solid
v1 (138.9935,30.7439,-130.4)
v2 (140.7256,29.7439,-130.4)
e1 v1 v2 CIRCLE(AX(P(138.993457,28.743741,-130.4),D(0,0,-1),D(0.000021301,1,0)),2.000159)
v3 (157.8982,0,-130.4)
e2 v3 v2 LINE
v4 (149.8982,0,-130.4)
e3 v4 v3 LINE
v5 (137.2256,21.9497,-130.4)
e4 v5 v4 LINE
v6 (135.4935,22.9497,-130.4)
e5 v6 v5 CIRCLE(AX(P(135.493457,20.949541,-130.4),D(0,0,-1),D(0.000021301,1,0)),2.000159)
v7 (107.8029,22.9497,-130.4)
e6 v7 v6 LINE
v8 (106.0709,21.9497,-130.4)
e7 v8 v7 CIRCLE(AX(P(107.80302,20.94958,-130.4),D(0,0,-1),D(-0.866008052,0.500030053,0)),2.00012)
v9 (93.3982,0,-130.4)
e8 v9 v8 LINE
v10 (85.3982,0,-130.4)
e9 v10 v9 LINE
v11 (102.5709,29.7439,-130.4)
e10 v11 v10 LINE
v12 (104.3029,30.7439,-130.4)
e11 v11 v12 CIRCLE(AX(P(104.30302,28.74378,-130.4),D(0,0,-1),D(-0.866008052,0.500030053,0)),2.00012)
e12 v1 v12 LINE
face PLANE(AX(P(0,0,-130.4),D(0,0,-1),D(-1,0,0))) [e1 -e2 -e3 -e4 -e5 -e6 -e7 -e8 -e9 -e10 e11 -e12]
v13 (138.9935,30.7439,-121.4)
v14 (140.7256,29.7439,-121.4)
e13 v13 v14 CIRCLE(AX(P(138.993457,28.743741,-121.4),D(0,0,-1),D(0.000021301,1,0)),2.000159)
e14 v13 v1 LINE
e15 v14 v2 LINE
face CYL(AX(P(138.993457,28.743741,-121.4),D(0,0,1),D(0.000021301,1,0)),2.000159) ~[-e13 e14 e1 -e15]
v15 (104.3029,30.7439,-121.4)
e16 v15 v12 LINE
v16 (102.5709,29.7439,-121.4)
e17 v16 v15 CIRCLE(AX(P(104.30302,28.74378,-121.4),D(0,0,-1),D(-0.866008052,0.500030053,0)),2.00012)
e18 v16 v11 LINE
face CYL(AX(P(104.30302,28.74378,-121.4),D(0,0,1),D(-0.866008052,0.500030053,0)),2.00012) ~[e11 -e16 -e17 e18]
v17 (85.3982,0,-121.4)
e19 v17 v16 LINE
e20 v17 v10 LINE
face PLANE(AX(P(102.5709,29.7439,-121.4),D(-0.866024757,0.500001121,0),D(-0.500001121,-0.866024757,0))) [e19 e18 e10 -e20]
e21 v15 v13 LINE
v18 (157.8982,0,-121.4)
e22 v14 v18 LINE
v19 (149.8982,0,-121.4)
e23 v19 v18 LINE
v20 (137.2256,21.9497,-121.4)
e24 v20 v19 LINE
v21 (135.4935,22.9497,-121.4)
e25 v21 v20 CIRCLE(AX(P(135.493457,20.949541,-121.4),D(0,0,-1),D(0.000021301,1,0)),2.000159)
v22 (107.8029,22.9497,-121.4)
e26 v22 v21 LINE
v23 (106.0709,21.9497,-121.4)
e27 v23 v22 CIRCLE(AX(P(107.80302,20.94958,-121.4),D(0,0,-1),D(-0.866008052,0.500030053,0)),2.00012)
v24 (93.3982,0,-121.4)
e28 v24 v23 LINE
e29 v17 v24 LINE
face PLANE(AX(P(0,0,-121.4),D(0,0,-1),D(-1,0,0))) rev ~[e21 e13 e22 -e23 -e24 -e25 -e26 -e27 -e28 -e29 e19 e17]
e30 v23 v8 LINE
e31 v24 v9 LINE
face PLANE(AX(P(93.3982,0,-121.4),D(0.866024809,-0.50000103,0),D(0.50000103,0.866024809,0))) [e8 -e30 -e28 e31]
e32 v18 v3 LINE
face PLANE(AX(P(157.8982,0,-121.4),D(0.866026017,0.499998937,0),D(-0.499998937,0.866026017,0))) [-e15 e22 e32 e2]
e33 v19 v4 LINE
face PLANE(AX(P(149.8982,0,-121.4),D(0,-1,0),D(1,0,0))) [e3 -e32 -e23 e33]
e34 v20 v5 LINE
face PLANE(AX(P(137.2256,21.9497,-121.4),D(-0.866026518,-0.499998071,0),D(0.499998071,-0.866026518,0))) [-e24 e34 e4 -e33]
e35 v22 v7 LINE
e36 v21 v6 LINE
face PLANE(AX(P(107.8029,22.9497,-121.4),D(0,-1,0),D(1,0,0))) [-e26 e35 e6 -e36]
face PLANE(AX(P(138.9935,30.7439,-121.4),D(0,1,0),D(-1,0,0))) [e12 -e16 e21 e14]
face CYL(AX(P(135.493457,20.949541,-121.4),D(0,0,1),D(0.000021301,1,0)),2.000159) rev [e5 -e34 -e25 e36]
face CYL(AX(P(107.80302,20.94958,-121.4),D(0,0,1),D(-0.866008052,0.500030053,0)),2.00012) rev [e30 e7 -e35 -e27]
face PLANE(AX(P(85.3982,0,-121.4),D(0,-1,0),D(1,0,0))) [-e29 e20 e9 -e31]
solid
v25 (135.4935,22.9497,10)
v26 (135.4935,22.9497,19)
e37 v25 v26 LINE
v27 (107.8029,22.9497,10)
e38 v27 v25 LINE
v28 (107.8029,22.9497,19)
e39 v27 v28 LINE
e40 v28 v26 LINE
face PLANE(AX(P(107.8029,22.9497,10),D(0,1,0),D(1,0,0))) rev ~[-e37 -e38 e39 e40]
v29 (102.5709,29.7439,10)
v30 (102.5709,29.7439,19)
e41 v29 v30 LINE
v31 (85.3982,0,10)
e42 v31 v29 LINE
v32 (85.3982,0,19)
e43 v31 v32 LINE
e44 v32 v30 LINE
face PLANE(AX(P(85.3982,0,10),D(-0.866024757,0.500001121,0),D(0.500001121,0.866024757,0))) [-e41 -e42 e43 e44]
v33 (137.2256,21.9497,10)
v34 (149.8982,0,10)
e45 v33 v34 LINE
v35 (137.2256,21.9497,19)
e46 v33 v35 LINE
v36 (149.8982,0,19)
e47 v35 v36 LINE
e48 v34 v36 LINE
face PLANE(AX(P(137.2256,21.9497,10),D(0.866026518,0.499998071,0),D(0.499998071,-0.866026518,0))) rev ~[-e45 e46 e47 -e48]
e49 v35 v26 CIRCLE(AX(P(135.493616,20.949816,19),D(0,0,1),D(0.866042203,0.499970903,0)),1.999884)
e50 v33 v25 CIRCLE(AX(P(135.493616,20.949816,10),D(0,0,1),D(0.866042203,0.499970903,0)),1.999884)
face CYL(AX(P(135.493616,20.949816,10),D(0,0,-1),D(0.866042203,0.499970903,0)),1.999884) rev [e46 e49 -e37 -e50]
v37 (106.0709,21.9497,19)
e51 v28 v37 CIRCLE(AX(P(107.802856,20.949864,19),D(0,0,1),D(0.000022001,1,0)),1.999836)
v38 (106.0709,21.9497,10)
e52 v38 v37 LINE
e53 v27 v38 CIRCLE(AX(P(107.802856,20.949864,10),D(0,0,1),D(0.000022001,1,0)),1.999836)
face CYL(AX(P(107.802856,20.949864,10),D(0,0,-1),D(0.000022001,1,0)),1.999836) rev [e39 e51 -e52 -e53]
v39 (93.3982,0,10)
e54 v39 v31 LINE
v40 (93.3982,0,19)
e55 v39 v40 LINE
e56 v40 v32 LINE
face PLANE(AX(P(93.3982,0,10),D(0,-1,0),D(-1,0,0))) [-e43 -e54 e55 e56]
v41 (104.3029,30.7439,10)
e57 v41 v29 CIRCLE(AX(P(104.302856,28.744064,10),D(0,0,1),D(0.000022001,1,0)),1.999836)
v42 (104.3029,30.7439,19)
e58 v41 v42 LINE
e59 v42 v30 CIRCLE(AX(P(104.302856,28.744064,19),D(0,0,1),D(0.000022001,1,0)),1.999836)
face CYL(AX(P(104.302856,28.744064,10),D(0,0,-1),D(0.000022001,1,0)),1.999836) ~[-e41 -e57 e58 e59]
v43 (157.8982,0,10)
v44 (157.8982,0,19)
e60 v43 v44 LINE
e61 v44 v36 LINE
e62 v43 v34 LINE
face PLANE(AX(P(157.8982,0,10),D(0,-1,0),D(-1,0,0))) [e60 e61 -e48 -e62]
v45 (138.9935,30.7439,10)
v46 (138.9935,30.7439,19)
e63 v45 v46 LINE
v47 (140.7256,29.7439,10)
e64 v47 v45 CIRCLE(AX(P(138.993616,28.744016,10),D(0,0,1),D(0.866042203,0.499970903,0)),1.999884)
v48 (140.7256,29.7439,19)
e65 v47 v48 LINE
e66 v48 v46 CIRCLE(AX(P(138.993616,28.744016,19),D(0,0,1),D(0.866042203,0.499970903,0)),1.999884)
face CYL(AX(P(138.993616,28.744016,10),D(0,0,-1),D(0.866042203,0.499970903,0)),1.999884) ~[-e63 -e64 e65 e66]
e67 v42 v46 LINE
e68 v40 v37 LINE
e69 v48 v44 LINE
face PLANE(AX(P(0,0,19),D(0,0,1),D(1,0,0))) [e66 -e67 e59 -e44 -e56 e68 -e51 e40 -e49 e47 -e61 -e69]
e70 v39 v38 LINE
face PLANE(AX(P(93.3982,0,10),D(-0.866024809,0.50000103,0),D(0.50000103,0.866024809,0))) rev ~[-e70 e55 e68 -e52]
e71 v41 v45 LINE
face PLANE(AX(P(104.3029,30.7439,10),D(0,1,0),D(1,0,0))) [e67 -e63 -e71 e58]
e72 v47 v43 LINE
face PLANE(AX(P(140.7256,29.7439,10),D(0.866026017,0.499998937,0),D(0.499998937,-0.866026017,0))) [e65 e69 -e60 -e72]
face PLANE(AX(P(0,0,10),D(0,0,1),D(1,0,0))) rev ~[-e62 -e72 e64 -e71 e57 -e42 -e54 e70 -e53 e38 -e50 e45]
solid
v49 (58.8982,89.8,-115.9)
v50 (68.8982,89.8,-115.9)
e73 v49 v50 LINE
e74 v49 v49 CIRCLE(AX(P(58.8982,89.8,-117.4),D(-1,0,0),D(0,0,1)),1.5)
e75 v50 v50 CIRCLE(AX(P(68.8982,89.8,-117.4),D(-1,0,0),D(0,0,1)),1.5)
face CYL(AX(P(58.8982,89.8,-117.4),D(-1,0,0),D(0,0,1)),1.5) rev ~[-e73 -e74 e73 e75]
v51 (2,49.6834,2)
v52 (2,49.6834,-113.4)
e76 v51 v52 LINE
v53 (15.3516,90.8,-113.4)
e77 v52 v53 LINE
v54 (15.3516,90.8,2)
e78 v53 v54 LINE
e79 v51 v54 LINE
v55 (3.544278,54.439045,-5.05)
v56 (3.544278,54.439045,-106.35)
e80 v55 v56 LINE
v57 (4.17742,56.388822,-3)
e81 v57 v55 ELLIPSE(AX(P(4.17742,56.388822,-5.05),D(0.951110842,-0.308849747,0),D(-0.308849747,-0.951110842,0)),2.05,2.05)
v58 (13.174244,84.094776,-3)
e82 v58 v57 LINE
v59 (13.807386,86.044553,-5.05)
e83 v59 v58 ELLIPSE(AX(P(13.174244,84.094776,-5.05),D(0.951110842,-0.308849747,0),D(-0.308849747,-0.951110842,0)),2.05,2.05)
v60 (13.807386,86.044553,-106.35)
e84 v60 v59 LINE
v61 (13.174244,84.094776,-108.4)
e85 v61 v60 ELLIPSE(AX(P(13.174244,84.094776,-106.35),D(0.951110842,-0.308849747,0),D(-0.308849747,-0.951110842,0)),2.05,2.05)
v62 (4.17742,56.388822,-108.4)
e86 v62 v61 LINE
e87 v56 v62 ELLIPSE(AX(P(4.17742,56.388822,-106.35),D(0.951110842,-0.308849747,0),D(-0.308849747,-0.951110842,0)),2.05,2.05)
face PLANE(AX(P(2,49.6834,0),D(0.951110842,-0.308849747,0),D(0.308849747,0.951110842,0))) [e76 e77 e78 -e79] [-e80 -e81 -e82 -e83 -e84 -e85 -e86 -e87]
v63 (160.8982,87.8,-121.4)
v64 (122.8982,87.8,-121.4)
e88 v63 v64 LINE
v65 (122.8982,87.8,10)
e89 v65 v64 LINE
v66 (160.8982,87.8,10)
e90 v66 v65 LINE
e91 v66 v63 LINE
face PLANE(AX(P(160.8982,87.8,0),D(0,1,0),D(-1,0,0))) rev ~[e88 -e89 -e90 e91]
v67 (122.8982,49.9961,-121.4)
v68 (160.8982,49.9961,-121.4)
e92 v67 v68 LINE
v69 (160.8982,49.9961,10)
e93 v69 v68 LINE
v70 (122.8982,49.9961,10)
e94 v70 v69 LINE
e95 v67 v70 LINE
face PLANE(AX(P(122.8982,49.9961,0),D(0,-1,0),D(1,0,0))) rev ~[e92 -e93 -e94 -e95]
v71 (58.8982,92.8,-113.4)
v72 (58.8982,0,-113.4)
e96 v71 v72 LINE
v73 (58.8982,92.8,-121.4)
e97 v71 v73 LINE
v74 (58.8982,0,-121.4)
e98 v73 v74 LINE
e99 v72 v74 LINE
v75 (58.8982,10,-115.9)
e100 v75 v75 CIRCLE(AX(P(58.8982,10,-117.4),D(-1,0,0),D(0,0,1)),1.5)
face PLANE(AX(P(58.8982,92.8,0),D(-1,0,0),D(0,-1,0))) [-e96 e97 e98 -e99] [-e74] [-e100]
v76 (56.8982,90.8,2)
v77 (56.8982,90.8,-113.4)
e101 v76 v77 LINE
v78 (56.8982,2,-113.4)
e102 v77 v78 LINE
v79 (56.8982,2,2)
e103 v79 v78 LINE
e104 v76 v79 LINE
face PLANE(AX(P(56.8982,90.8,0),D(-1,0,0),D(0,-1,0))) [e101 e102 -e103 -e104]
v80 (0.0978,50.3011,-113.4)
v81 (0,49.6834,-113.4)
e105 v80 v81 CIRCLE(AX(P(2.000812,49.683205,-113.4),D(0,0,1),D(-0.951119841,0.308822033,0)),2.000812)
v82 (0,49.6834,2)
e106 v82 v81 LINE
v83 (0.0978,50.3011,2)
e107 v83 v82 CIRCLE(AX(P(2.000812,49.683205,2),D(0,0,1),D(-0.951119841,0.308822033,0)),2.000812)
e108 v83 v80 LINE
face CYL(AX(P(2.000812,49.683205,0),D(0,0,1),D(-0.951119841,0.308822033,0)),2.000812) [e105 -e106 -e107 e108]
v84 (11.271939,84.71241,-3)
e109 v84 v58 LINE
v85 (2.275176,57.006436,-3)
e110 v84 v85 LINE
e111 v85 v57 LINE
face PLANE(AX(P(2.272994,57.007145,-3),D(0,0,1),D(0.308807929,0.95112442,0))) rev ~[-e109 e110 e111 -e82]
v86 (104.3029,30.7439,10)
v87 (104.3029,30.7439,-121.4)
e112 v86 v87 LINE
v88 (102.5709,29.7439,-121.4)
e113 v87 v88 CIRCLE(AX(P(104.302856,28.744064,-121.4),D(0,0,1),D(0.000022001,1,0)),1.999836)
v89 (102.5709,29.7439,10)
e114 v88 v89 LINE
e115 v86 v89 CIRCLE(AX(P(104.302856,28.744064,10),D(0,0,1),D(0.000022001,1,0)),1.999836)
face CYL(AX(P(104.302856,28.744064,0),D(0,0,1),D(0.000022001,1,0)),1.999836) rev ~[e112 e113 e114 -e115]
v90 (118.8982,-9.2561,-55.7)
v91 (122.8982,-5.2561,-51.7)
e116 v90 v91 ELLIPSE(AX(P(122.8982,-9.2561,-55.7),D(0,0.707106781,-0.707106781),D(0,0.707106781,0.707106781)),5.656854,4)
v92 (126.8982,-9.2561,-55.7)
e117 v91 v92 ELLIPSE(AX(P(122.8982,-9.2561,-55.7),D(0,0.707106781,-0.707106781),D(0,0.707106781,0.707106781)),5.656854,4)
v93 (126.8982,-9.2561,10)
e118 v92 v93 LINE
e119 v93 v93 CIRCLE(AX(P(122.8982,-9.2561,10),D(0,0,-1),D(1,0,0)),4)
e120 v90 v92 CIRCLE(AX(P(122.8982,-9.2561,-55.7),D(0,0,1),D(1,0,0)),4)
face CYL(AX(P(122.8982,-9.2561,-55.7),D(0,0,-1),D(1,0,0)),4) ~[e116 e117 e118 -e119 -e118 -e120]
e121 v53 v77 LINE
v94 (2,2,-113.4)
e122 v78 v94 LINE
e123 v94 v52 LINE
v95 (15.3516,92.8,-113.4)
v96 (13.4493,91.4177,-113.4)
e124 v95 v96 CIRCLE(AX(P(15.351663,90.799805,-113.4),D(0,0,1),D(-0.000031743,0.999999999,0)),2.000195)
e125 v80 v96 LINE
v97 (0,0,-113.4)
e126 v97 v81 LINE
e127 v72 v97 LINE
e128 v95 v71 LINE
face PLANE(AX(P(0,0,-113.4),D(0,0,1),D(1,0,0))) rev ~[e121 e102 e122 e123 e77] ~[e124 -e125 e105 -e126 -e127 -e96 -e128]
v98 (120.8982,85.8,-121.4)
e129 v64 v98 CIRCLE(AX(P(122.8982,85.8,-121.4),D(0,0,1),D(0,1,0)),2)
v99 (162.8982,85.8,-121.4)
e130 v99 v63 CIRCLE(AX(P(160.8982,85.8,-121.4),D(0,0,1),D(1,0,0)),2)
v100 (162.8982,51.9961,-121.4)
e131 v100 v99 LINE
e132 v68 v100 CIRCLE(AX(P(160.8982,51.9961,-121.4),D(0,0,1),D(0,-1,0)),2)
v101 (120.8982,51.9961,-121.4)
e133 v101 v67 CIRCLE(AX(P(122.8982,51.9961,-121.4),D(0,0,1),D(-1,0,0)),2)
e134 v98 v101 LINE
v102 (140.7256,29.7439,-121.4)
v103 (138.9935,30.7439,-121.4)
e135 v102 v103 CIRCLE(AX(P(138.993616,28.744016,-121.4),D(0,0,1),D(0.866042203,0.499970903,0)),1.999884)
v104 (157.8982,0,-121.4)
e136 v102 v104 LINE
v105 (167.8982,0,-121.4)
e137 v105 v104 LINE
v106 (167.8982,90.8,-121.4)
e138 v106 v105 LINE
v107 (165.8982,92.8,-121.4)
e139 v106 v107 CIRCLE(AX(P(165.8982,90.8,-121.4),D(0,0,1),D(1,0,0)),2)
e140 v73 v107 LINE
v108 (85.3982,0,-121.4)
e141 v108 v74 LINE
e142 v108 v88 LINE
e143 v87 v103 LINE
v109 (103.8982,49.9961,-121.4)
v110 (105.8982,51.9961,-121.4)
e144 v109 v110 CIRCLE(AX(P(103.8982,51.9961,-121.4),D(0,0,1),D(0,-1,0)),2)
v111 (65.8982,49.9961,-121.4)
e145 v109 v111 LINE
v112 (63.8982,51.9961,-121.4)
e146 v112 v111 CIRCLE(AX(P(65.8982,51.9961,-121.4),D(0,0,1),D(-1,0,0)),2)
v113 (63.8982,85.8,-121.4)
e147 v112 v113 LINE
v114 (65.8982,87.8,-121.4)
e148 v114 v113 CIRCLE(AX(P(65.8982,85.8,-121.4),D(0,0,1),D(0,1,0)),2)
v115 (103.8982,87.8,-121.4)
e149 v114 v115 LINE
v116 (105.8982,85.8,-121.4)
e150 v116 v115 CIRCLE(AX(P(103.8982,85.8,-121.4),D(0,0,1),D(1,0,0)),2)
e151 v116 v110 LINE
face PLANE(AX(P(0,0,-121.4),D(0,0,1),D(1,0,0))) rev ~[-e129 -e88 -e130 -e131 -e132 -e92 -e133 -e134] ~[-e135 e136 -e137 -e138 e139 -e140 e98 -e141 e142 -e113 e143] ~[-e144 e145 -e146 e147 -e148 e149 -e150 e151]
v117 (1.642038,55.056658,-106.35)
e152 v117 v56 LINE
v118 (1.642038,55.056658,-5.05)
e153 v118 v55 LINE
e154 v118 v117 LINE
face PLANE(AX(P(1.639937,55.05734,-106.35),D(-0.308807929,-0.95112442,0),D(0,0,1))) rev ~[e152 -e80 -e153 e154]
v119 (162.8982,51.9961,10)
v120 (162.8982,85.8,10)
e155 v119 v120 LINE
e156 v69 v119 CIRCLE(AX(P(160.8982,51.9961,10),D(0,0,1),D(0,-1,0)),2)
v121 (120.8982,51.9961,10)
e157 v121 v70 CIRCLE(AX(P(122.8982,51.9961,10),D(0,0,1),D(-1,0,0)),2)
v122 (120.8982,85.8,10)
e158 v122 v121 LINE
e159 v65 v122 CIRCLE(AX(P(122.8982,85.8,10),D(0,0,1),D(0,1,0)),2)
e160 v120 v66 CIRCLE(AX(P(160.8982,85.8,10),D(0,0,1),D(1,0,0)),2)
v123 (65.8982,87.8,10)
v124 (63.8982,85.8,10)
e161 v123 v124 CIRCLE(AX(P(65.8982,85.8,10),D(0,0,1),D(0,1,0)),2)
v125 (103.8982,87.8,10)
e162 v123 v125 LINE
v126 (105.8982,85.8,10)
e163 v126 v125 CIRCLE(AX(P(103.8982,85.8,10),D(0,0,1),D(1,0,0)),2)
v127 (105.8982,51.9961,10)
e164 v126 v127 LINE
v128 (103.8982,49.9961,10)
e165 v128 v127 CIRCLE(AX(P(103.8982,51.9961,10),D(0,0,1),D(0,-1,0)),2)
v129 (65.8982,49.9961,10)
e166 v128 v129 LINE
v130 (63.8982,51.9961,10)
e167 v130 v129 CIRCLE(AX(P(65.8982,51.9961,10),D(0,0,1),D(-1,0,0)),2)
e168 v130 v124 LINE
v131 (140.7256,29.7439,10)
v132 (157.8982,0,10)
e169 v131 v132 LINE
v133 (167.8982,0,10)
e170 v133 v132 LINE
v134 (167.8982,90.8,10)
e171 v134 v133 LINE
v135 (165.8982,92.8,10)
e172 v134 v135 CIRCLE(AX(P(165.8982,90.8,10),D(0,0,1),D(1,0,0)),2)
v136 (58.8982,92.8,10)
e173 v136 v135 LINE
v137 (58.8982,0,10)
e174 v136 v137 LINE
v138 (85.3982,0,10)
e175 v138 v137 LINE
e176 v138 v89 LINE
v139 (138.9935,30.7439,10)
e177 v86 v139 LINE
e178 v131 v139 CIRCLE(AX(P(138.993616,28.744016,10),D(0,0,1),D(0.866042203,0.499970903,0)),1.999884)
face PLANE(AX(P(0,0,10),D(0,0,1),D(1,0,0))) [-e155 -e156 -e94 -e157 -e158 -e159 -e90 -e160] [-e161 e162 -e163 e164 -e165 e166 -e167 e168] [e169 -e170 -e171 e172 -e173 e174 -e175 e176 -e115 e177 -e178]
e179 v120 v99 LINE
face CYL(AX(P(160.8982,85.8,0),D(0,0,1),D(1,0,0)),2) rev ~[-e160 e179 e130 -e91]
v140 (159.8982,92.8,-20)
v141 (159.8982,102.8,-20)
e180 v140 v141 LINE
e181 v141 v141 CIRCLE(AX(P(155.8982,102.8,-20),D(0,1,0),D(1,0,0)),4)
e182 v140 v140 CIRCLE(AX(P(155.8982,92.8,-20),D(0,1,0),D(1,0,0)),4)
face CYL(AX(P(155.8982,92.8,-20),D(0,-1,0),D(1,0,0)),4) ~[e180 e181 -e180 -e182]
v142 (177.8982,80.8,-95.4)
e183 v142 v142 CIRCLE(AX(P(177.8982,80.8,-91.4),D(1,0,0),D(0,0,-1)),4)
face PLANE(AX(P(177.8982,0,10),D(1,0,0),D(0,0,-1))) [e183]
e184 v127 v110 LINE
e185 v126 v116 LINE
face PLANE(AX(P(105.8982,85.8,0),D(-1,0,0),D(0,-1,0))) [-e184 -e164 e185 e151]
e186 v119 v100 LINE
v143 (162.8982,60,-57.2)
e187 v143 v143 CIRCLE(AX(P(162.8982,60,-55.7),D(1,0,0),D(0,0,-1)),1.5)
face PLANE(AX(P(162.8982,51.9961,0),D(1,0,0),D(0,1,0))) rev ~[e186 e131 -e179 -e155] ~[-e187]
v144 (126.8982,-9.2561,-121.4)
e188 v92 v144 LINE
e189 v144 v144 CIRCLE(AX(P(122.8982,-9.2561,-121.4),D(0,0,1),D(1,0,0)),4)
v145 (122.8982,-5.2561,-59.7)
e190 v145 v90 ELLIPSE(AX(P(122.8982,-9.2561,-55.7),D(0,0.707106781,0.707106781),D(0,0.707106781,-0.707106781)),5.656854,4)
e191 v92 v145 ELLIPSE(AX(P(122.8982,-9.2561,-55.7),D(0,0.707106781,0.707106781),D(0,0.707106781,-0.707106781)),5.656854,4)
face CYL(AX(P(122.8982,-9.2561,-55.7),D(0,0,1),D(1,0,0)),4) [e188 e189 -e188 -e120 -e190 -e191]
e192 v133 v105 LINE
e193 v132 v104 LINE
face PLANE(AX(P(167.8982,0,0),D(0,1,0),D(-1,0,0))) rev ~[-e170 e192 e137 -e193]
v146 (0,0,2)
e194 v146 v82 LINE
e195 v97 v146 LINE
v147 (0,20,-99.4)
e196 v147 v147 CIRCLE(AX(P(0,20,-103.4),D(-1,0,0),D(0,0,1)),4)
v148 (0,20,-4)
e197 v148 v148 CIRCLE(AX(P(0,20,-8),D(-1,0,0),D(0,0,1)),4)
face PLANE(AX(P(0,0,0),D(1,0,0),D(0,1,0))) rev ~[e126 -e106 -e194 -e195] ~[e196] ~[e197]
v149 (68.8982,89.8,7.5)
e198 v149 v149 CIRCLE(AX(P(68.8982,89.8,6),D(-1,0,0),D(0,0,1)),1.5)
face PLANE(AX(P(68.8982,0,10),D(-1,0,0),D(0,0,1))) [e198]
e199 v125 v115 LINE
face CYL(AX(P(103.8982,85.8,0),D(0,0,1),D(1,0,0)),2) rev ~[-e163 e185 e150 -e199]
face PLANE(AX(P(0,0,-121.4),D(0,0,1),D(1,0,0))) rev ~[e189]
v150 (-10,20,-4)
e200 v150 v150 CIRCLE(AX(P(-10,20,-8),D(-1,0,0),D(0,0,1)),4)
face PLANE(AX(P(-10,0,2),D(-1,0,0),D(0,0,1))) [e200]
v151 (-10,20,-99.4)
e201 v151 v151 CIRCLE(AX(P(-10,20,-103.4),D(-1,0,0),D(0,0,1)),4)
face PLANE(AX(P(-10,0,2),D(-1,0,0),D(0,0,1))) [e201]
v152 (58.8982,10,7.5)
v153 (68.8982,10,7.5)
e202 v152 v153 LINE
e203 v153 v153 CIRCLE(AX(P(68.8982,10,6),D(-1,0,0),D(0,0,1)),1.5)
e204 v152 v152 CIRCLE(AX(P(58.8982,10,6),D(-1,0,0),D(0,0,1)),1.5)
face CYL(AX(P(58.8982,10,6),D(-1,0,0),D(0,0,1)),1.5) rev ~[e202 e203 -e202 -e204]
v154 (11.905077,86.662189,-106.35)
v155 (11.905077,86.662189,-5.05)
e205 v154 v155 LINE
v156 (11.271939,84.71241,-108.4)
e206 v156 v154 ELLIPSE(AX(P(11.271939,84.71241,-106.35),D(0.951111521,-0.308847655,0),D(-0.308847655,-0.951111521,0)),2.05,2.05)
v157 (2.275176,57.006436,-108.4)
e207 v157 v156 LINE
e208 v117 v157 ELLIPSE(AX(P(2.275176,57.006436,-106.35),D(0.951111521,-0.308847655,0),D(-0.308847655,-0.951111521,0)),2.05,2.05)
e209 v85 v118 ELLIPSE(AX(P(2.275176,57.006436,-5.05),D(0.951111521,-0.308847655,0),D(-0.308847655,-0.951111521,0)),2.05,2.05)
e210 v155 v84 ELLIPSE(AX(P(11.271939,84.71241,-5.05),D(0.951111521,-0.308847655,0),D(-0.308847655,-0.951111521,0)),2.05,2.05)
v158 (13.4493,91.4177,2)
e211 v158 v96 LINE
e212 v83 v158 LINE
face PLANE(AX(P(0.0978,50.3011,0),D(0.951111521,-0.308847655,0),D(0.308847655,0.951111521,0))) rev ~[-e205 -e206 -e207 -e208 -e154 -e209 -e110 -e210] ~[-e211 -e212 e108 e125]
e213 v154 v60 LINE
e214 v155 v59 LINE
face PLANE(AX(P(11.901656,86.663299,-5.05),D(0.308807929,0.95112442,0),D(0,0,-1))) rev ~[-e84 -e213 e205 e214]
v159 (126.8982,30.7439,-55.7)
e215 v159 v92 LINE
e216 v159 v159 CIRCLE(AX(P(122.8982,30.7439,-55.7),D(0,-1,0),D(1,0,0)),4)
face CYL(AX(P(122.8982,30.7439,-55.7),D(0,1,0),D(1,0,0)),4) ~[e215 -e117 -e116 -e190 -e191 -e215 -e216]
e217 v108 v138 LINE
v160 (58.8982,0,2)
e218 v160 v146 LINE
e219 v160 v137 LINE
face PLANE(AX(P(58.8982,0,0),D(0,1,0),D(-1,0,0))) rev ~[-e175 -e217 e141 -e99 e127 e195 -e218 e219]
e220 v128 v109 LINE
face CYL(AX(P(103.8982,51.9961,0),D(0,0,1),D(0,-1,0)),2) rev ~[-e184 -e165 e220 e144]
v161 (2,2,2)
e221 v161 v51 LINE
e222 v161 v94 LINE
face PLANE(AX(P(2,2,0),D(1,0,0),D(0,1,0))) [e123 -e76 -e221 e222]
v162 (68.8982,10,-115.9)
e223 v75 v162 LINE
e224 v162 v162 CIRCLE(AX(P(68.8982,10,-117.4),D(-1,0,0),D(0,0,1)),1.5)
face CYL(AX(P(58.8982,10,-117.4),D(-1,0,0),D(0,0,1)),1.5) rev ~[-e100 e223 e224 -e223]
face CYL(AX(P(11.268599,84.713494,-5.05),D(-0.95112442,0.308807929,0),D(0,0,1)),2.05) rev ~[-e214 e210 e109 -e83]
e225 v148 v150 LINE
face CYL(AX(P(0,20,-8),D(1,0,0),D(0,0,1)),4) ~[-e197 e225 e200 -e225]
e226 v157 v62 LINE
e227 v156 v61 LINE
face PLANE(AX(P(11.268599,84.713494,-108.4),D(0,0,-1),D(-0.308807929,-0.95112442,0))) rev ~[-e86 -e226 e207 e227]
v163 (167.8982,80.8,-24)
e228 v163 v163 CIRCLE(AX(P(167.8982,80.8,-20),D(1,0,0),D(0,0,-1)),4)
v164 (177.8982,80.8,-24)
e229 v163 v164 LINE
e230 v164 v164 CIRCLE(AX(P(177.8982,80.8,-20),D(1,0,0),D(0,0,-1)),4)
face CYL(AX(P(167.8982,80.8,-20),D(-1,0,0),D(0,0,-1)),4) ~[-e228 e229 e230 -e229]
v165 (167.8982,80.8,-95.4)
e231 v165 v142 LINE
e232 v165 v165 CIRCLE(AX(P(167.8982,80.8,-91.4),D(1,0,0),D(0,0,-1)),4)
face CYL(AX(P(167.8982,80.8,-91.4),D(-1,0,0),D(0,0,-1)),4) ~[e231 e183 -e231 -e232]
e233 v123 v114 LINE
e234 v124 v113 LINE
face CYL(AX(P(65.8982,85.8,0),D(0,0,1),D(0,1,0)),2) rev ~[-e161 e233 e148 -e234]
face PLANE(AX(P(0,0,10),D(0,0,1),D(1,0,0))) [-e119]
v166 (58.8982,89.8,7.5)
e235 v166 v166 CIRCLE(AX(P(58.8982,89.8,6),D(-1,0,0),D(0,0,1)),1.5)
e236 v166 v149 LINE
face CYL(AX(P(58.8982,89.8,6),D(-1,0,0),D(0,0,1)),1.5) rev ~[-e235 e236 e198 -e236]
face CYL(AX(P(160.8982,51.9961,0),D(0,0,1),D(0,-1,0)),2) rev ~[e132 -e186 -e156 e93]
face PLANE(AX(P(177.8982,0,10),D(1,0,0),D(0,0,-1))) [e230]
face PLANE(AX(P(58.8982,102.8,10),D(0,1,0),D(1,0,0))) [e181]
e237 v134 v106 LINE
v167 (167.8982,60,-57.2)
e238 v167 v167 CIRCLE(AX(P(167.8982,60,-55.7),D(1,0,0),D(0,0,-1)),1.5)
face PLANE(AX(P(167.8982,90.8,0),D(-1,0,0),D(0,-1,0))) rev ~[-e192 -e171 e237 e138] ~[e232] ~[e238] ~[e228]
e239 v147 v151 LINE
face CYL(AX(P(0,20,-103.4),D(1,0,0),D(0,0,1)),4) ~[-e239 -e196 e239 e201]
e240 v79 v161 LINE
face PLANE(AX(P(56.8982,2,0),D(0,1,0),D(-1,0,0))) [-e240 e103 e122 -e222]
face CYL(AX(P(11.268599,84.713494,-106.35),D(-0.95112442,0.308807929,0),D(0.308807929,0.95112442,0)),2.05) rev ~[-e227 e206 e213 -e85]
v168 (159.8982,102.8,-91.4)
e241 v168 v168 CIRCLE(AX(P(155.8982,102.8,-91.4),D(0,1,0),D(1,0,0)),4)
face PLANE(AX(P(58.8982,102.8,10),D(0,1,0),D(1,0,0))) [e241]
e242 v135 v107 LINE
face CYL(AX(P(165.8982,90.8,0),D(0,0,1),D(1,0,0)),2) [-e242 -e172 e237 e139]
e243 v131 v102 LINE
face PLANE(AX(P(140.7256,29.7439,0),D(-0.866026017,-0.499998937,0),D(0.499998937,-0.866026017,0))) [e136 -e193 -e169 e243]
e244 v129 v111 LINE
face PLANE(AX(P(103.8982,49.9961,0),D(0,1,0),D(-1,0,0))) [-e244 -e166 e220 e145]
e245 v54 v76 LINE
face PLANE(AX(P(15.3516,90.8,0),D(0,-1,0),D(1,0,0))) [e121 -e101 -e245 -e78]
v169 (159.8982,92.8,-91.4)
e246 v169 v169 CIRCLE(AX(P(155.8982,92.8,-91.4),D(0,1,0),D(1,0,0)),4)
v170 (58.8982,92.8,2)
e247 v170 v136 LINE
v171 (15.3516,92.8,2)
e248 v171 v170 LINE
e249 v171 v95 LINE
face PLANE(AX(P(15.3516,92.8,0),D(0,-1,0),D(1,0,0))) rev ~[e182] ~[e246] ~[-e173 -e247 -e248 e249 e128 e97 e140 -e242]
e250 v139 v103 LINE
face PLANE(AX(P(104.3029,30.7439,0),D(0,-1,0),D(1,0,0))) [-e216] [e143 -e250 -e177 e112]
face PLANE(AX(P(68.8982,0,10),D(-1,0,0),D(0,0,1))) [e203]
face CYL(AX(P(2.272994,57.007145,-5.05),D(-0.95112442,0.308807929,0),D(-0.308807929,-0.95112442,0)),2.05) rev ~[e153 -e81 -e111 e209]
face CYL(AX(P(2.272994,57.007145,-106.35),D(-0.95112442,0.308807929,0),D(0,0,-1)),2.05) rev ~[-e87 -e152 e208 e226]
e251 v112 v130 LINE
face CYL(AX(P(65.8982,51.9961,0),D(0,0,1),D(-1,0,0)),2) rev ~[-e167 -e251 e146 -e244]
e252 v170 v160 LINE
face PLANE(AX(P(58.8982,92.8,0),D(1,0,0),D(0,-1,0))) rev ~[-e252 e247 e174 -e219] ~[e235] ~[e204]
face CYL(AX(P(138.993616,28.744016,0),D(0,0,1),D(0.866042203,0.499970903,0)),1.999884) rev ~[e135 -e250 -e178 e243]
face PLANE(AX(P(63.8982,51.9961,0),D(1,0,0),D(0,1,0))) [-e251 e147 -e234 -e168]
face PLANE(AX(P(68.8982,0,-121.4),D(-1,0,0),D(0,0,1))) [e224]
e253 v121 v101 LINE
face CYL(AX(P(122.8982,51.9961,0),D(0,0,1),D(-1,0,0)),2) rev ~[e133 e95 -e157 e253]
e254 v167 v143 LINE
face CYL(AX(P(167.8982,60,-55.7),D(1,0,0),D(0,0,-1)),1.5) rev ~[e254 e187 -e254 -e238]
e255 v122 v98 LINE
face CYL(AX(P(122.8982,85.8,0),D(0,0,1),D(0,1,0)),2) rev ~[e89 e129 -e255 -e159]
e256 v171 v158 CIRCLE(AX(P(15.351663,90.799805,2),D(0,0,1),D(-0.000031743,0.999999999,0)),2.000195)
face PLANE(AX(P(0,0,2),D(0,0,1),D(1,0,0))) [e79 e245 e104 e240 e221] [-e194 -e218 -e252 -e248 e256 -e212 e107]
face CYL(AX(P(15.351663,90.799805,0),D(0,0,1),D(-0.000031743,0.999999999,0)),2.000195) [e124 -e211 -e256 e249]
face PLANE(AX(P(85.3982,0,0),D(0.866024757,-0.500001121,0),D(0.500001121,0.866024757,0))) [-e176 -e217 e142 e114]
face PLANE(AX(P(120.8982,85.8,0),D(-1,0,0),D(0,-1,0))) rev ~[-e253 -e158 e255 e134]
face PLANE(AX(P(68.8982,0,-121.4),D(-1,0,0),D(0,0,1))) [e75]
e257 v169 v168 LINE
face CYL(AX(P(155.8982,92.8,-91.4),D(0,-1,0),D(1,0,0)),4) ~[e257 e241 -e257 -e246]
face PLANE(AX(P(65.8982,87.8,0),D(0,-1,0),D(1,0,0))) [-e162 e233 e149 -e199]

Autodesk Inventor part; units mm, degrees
ref_plane "YZ Plane" through (0, 0, 0) normal (1, 0, 0) x (0, 1, 0)
ref_plane "XZ Plane" through (0, 0, 0) normal (0, 1, 0) x (-1, 0, 0)
sketch "Boceto1" plane through (0, 0, 0) normal (0, 0, 1) x (1, 0, 0)
  line L0 (0, 0) -> (0, 49.6834)
  line L1 (0.0978, 50.3011) -> (13.4493, 91.4177)
  line L2 (15.3516, 92.8) -> (165.8982, 92.8)
  line L3 (167.8982, 90.8) -> (167.8982, 0)
  line L4 (167.8982, 0) -> (0, 0)
  line L5 (58.8982, 92.8) -> (58.8982, 0)
  line L6 (85.3982, 0) -> (102.5709, 29.7439)
  line L7 (104.3029, 30.7439) -> (138.9935, 30.7439)
  line L8 (140.7256, 29.7439) -> (157.8982, 0)
  line L9 (93.3982, 0) -> (106.0709, 21.9497)
  line L10 (107.8029, 22.9497) -> (135.4935, 22.9497)
  line L11 (137.2256, 21.9497) -> (149.8982, 0)
  arc A0 (167.8982, 90.8) -> (165.8982, 92.8) centre (165.8982, 90.8) ccw
  arc A1 (15.3516, 92.8) -> (13.4493, 91.4177) centre (15.3516, 90.8) ccw
  arc A2 (140.7256, 29.7439) -> (138.9935, 30.7439) centre (138.9935, 28.7439) ccw
  arc A3 (104.3029, 30.7439) -> (102.5709, 29.7439) centre (104.3029, 28.7439) ccw
  arc A4 (107.8029, 22.9497) -> (106.0709, 21.9497) centre (107.8029, 20.9497) ccw
  arc A5 (137.2256, 21.9497) -> (135.4935, 22.9497) centre (135.4935, 20.9497) ccw
  arc A6 (0.0978, 50.3011) -> (0, 49.6834) centre (2, 49.6834) ccw
  line L12 (63.8982, 51.9961) -> (63.8982, 85.8)
  line L13 (65.8982, 87.8) -> (103.8982, 87.8)
  line L14 (105.8982, 85.8) -> (105.8982, 51.9961)
  line L15 (103.8982, 49.9961) -> (65.8982, 49.9961)
  line L16 (122.8982, 49.9961) -> (160.8982, 49.9961)
  line L17 (162.8982, 51.9961) -> (162.8982, 85.8)
  line L18 (160.8982, 87.8) -> (122.8982, 87.8)
  line L19 (120.8982, 85.8) -> (120.8982, 51.9961)
  arc A7 (105.8982, 85.8) -> (103.8982, 87.8) centre (103.8982, 85.8) ccw
  arc A8 (65.8982, 87.8) -> (63.8982, 85.8) centre (65.8982, 85.8) ccw
  arc A9 (63.8982, 51.9961) -> (65.8982, 49.9961) centre (65.8982, 51.9961) ccw
  arc A10 (103.8982, 49.9961) -> (105.8982, 51.9961) centre (103.8982, 51.9961) ccw
  arc A11 (120.8982, 51.9961) -> (122.8982, 49.9961) centre (122.8982, 51.9961) ccw
  arc A12 (122.8982, 87.8) -> (120.8982, 85.8) centre (122.8982, 85.8) ccw
  arc A13 (162.8982, 85.8) -> (160.8982, 87.8) centre (160.8982, 85.8) ccw
  arc A14 (160.8982, 49.9961) -> (162.8982, 51.9961) centre (160.8982, 51.9961) ccw
  line L20 (15.3516, 90.8) -> (56.8982, 90.8)
  line L21 (56.8982, 90.8) -> (56.8982, 2)
  line L22 (56.8982, 2) -> (2, 2)
  line L23 (2, 2) -> (2, 49.6834)
  line L24 (2, 49.6834) -> (15.3516, 90.8)
  point P0 (0, 50)
  point P1 (13.8982, 92.8)
  point P2 (167.8982, 92.8)
  point P3 (103.1482, 30.7439)
  point P4 (140.1482, 30.7439)
  point P5 (106.6482, 22.9497)
  point P6 (136.6482, 22.9497)
  point P7 (63.8982, 49.9961)
  point P8 (105.8982, 49.9961)
  point P9 (0.0246, 49.9961)
  point P10 (120.8982, 49.9961)
  dimension "d29" = 154
  dimension "d30" = 92.8
  dimension "d31" = 45
  dimension "d32" = 50
  dimension "d33" = 45
  dimension "d34" = 37
  dimension "d35" = 35.5
  dimension "d37" = 10
  dimension "d38" = 60
  dimension "d39" = 30
  dimension "d40" = 8
  dimension "d41" = 8
  dimension "d42" = 2
  dimension "d43" = 2
  dimension "d44" = 2
  dimension "d51" = 5
  dimension "d52" = 5
  dimension "d53" = 5
  dimension "d54" = 5
  dimension "d55" = 15
  dimension "d56" = 2
  dimension "d57" = 2
  dimension "d58" = 2
  dimension "d59" = 2
  dimension "d60" = 2
  dimension "d61" = 2
extrude "Extrusión7" add sketch "Boceto1" along normal blind 10 contours L5 L2 A0 L3 L4 L8 A2 L7 A3 L6
extrude "Extrusión8" add sketch "Boceto1" along normal blind 2 contours L0 A6 L1 A1 L2 L5 L4
extrude "Extrusión9" add sketch "Boceto1" against normal blind 121.4 contours L5 L2 A0 L3 L4 L8 A2 L7 A3 L6
extrude "Extrusión10" add sketch "Boceto1" against normal blind 113.4 contours L0 A6 L1 A1 L2 L5 L4
sketch "Boceto4" plane through (0, 0, 10) normal (0, 0, 1) x (1, 0, 0)
  line L0 (85.3982, 0) -> (102.5709, 29.7439) projected
  line L1 (104.3029, 30.7439) -> (138.9935, 30.7439) projected
  arc A0 (104.3029, 30.7439) -> (102.5709, 29.7439) centre (104.3029, 28.7439) ccw projected
  arc A1 (122.8982, 87.8) -> (120.8982, 85.8) centre (122.8982, 85.8) ccw projected
  line L2 (122.8982, 87.8) -> (160.8982, 87.8) projected
  arc A2 (162.8982, 85.8) -> (160.8982, 87.8) centre (160.8982, 85.8) ccw projected
  line L3 (162.8982, 85.8) -> (162.8982, 51.9961) projected
  arc A3 (160.8982, 49.9961) -> (162.8982, 51.9961) centre (160.8982, 51.9961) ccw projected
  line L4 (160.8982, 49.9961) -> (122.8982, 49.9961) projected
  arc A4 (120.8982, 51.9961) -> (122.8982, 49.9961) centre (122.8982, 51.9961) ccw projected
  line L5 (120.8982, 51.9961) -> (120.8982, 85.8) projected
  arc A5 (103.8982, 49.9961) -> (105.8982, 51.9961) centre (103.8982, 51.9961) ccw projected
  line L6 (103.8982, 49.9961) -> (65.8982, 49.9961) projected
  arc A6 (63.8982, 51.9961) -> (65.8982, 49.9961) centre (65.8982, 51.9961) ccw projected
  line L7 (63.8982, 51.9961) -> (63.8982, 85.8) projected
  arc A7 (65.8982, 87.8) -> (63.8982, 85.8) centre (65.8982, 85.8) ccw projected
  line L8 (65.8982, 87.8) -> (103.8982, 87.8) projected
  arc A8 (105.8982, 85.8) -> (103.8982, 87.8) centre (103.8982, 85.8) ccw projected
  line L9 (105.8982, 85.8) -> (105.8982, 51.9961) projected
  line L10 (167.8982, 0) -> (167.8982, 90.8) projected
  arc A9 (167.8982, 90.8) -> (165.8982, 92.8) centre (165.8982, 90.8) ccw projected
  line L11 (165.8982, 92.8) -> (58.8982, 92.8) projected
  line L12 (58.8982, 92.8) -> (58.8982, 0) projected
  line L13 (58.8982, 0) -> (85.3982, 0) projected
  line L14 (85.3982, 0) -> (102.5709, 29.7439) projected
  arc A10 (104.3029, 30.7439) -> (102.5709, 29.7439) centre (104.3029, 28.7439) ccw projected
  line L15 (104.3029, 30.7439) -> (138.9935, 30.7439) projected
  arc A11 (140.7256, 29.7439) -> (138.9935, 30.7439) centre (138.9935, 28.7439) ccw projected
  line L16 (140.7256, 29.7439) -> (157.8982, 0) projected
  line L17 (157.8982, 0) -> (167.8982, 0) projected
  line L18 (93.3982, 0) -> (106.0709, 21.9497) projected
  arc A12 (107.8029, 22.9497) -> (106.0709, 21.9497) centre (107.8029, 20.9497) ccw projected
  line L19 (107.8029, 22.9497) -> (135.4935, 22.9497) projected
  arc A13 (137.2256, 21.9497) -> (135.4935, 22.9497) centre (135.4935, 20.9497) ccw projected
  line L20 (137.2256, 21.9497) -> (149.8982, 0) projected
  line L21 (167.8982, 0) -> (0, 0) projected
extrude "Extrusión11" add sketch "Boceto4" along normal blind 9 contours L0 A0 L1 A11 L16 L21 L20 A13 L19 A12 L18
sketch "Boceto5" plane through (0, 0, -121.4) normal (0, 0, -1) x (-1, 0, 0)
  line L0 (-157.8982, 0) -> (-140.7256, 29.7439) projected
  arc A0 (-138.9935, 30.7439) -> (-140.7256, 29.7439) centre (-138.9935, 28.7439) ccw projected
  line L1 (-138.9935, 30.7439) -> (-104.3029, 30.7439) projected
  arc A1 (-102.5709, 29.7439) -> (-104.3029, 30.7439) centre (-104.3029, 28.7439) ccw projected
  line L2 (-102.5709, 29.7439) -> (-85.3982, 0) projected
  line L3 (-93.3982, 0) -> (-106.0709, 21.9497) projected
  line L4 (-167.8982, 0) -> (0, 0) projected
  line L5 (-107.8029, 22.9497) -> (-135.4935, 22.9497) projected
  arc A2 (-135.4935, 22.9497) -> (-137.2256, 21.9497) centre (-135.4935, 20.9497) ccw projected
  line L6 (-137.2256, 21.9497) -> (-149.8982, 0) projected
  point P0 (-106.6482, 22.9497)
  point P1 (-136.6482, 22.9497)
sketch "Boceto6" plane through (0, 0, -121.4) normal (0, 0, -1) x (-1, 0, 0)
  line L0 (-167.8982, 90.8) -> (-167.8982, 0) projected
  arc A0 (-122.8982, 49.9961) -> (-120.8982, 51.9961) centre (-122.8982, 51.9961) ccw projected
  line L1 (-122.8982, 49.9961) -> (-160.8982, 49.9961) projected
  arc A1 (-162.8982, 51.9961) -> (-160.8982, 49.9961) centre (-160.8982, 51.9961) ccw projected
  line L2 (-162.8982, 51.9961) -> (-162.8982, 85.8) projected
  arc A2 (-160.8982, 87.8) -> (-162.8982, 85.8) centre (-160.8982, 85.8) ccw projected
  line L3 (-160.8982, 87.8) -> (-122.8982, 87.8) projected
  arc A3 (-120.8982, 85.8) -> (-122.8982, 87.8) centre (-122.8982, 85.8) ccw projected
  line L4 (-120.8982, 85.8) -> (-120.8982, 51.9961) projected
  arc A4 (-103.8982, 87.8) -> (-105.8982, 85.8) centre (-103.8982, 85.8) ccw projected
  line L5 (-103.8982, 87.8) -> (-65.8982, 87.8) projected
  arc A5 (-63.8982, 85.8) -> (-65.8982, 87.8) centre (-65.8982, 85.8) ccw projected
  line L6 (-63.8982, 85.8) -> (-63.8982, 51.9961) projected
  arc A6 (-65.8982, 49.9961) -> (-63.8982, 51.9961) centre (-65.8982, 51.9961) ccw projected
  line L7 (-65.8982, 49.9961) -> (-103.8982, 49.9961) projected
  arc A7 (-105.8982, 51.9961) -> (-103.8982, 49.9961) centre (-103.8982, 51.9961) ccw projected
  line L8 (-105.8982, 51.9961) -> (-105.8982, 85.8) projected
  line L9 (-167.8982, 90.8) -> (-167.8982, 0) projected
  line L10 (-167.8982, 0) -> (-157.8982, 0) projected
  line L11 (-157.8982, 0) -> (-140.7256, 29.7439) projected
  arc A8 (-138.9935, 30.7439) -> (-140.7256, 29.7439) centre (-138.9935, 28.7439) ccw projected
  line L12 (-138.9935, 30.7439) -> (-104.3029, 30.7439) projected
  arc A9 (-102.5709, 29.7439) -> (-104.3029, 30.7439) centre (-104.3029, 28.7439) ccw projected
  line L13 (-102.5709, 29.7439) -> (-85.3982, 0) projected
  line L14 (-85.3982, 0) -> (-58.8982, 0) projected
  line L15 (-58.8982, 92.8) -> (-165.8982, 92.8) projected
  arc A10 (-165.8982, 92.8) -> (-167.8982, 90.8) centre (-165.8982, 90.8) ccw projected
  line L16 (-93.3982, 0) -> (-106.0709, 21.9497) projected
  line L17 (-85.3982, 0) -> (-93.3982, 0) projected
  line L18 (-85.3982, 0) -> (-102.5709, 29.7439) projected
  arc A11 (-102.5709, 29.7439) -> (-104.3029, 30.7439) centre (-104.3029, 28.7439) ccw projected
  line L19 (-104.3029, 30.7439) -> (-138.9935, 30.7439) projected
  arc A12 (-138.9935, 30.7439) -> (-140.7256, 29.7439) centre (-138.9935, 28.7439) ccw projected
  line L20 (-140.7256, 29.7439) -> (-157.8982, 0) projected
  line L21 (-149.8982, 0) -> (-157.8982, 0) projected
  line L22 (-137.2256, 21.9497) -> (-149.8982, 0) projected
  arc A13 (-135.4935, 22.9497) -> (-137.2256, 21.9497) centre (-135.4935, 20.9497) ccw projected
  line L23 (-107.8029, 22.9497) -> (-135.4935, 22.9497) projected
  arc A14 (-106.0709, 21.9497) -> (-107.8029, 22.9497) centre (-107.8029, 20.9497) ccw projected
  line L24 (-58.8982, 0) -> (-58.8982, 92.8) projected
  point P0 (0, 0)
extrude "Extrusión12" add sketch "Boceto6" along normal blind 9 contours L11 A8 L12 A9 L13 L17 L16 A14 L23 A13 L22 L21
sketch "Boceto7" plane through (0, 0, 2) normal (-1, 0, 0) x (0, 0, 1)
  circle A0 centre (-105.4, 20) radius 4
  circle A1 centre (-10, 20) radius 4
  line L0 (0, 49.6834) -> (0, 0) projected
  line L1 (0, 0) -> (-115.4, 0) projected
  line L2 (-115.4, 0) -> (-115.4, 49.6834) projected
  point P0 (-2, 0)
  dimension "d80" = 10
  dimension "d81" = 8
  dimension "d82" = 20
  dimension "d83" = 10
  dimension "d135" = 115.4
extrude "Extrusión13" add sketch "Boceto7" along normal blind 10
sketch "Boceto8" plane through (0.0978, 50.3011, -113.4) normal (-0.9511, 0.3088, 0) x (0, 0, 1)
  line L0 (7.05, 5) -> (108.35, 5)
  line L1 (110.4, 7.05) -> (110.4, 36.1801)
  line L2 (108.35, 38.2301) -> (7.05, 38.2301)
  line L3 (5, 36.1801) -> (5, 7.05)
  line L4 (0, -28.397) -> (0, 56.0617) projected
  line L5 (0, -0.6177) -> (115.4, -0.6177) projected
  line L6 (115.4, 43.2301) -> (115.4, 0) projected
  line L7 (0, 43.2301) -> (115.4, 43.2301) projected
  arc A0 (7.05, 38.2301) -> (5, 36.1801) centre (7.05, 36.1801) ccw
  arc A1 (110.4, 36.1801) -> (108.35, 38.2301) centre (108.35, 36.1801) ccw
  arc A2 (108.35, 5) -> (110.4, 7.05) centre (108.35, 7.05) ccw
  arc A3 (5, 7.05) -> (7.05, 5) centre (7.05, 7.05) ccw
  line L8 (0, 0) -> (115.4, 0) projected
  point P0 (113.4, -47.8721)
  dimension "d92" = 2.05
  dimension "d93" = 5
  dimension "d94" = 5
  dimension "d95" = 5
  dimension "d96" = 5
  dimension "d136" = 33.2301
  dimension "d137" = 105.4
extrude "Extrusión15" cut sketch "Boceto8" against normal blind 2 contours A3 L3 A0 L2 A1 L1 A2 L0
sketch "Boceto9" plane through (58.8982, 0, 10) normal (-1, 0, 0) x (0, 0, 1)
  circle A0 centre (-4, 89.8) radius 1.5
  circle A1 centre (-4, 10) radius 1.5
  line L0 (-8, 92.8) -> (0, 92.8) projected
  line L1 (-8, 91.4177) -> (-8, 50.3011) projected
  line L2 (-8, 0) -> (0, 0) projected
  point P0 (-10, 0)
  dimension "d99" = 3
  dimension "d100" = 3
  dimension "d101" = 4
  dimension "d102" = 10
extrude "Extrusión16" cut sketch "Boceto9" against normal blind 10
sketch "Boceto10" plane through (58.8982, 0, -121.4) normal (-1, 0, 0) x (0, 0, 1)
  circle A0 centre (4, 89.8) radius 1.5
  circle A1 centre (4, 10) radius 1.5
  line L0 (8, 92.8) -> (0, 92.8) projected
  line L1 (8, 50.3011) -> (8, 91.4177) projected
  line L2 (8, 0) -> (0, 0) projected
  point P0 (121.4, 0)
  dimension "d105" = 3
  dimension "d106" = 4
  dimension "d107" = 10
  dimension "d108" = 3
extrude "Extrusión17" cut sketch "Boceto10" against normal blind 10
sketch "Boceto11" plane through (104.3029, 30.7439, 10) normal (0, -1, 0) x (1, 0, 0)
  line L0 (18.5953, -131.4) -> (18.5953, 0) projected
  circle A0 centre (18.5953, -65.7) radius 4
  point P0 (-104.3029, -10)
  dimension "d111" = 8
extrude "Extrusión18" add sketch "Boceto11" along normal blind 40
ref_plane "Plano de trabajo1" through (0, 0, -55.7) normal (0, 0, 1) x (1, 0, 0)
sketch "Boceto13" plane through (0, 0, -55.7) normal (0, 0, 1) x (1, 0, 0)
  line L0 (118.8982, -9.2561) -> (126.8982, -9.2561) projected
  circle A0 centre (122.8982, -9.2561) radius 4
  point P0 (0, 0)
  dimension "d115" = 8
extrude "Extrusión19" add sketch "Boceto13" along normal mid plane 131.4
sketch "Boceto14" plane through (58.8982, 92.8, 10) normal (0, 1, 0) x (1, 0, 0)
  circle A0 centre (97, 30) radius 4
  circle A1 centre (97, 101.4) radius 4
  line L0 (107, 0) -> (0, 0) projected
  line L1 (0, 131.4) -> (107, 131.4) projected
  line L2 (107, 131.4) -> (107, 0) projected
  point P0 (-58.8982, 10)
  dimension "d118" = 8
  dimension "d119" = 30
  dimension "d120" = 30
  dimension "d121" = 10
extrude "Extrusión20" add sketch "Boceto14" along normal blind 10
sketch "Boceto15" plane through (167.8982, 0, 10) normal (1, 0, 0) x (0, 0, -1)
  circle A0 centre (30, 80.8) radius 4
  circle A1 centre (101.4, 80.8) radius 4
  line L0 (0, 0) -> (0, 90.8) projected
  line L1 (131.4, 90.8) -> (131.4, 0) projected
  line L2 (131.4, 90.8) -> (0, 90.8) projected
  point P0 (10, 0)
  dimension "d124" = 30
  dimension "d125" = 30
  dimension "d126" = 8
  dimension "d127" = 10
extrude "Extrusión21" add sketch "Boceto15" along normal blind 10
sketch "Boceto16" plane through (167.8982, 0, 10) normal (1, 0, 0) x (0, 0, -1)
  circle A0 centre (65.7, 60) radius 1.5
  line L0 (131.4, 90.8) -> (131.4, 0) projected
  line L1 (0, 0) -> (131.4, 0) projected
  point P0 (10, 0)
  dimension "d130" = 3
  dimension "d131" = 65.7
  dimension "d132" = 60
extrude "Extrusión22" cut sketch "Boceto16" against normal blind 10
properties part number "PuertaAtras"
